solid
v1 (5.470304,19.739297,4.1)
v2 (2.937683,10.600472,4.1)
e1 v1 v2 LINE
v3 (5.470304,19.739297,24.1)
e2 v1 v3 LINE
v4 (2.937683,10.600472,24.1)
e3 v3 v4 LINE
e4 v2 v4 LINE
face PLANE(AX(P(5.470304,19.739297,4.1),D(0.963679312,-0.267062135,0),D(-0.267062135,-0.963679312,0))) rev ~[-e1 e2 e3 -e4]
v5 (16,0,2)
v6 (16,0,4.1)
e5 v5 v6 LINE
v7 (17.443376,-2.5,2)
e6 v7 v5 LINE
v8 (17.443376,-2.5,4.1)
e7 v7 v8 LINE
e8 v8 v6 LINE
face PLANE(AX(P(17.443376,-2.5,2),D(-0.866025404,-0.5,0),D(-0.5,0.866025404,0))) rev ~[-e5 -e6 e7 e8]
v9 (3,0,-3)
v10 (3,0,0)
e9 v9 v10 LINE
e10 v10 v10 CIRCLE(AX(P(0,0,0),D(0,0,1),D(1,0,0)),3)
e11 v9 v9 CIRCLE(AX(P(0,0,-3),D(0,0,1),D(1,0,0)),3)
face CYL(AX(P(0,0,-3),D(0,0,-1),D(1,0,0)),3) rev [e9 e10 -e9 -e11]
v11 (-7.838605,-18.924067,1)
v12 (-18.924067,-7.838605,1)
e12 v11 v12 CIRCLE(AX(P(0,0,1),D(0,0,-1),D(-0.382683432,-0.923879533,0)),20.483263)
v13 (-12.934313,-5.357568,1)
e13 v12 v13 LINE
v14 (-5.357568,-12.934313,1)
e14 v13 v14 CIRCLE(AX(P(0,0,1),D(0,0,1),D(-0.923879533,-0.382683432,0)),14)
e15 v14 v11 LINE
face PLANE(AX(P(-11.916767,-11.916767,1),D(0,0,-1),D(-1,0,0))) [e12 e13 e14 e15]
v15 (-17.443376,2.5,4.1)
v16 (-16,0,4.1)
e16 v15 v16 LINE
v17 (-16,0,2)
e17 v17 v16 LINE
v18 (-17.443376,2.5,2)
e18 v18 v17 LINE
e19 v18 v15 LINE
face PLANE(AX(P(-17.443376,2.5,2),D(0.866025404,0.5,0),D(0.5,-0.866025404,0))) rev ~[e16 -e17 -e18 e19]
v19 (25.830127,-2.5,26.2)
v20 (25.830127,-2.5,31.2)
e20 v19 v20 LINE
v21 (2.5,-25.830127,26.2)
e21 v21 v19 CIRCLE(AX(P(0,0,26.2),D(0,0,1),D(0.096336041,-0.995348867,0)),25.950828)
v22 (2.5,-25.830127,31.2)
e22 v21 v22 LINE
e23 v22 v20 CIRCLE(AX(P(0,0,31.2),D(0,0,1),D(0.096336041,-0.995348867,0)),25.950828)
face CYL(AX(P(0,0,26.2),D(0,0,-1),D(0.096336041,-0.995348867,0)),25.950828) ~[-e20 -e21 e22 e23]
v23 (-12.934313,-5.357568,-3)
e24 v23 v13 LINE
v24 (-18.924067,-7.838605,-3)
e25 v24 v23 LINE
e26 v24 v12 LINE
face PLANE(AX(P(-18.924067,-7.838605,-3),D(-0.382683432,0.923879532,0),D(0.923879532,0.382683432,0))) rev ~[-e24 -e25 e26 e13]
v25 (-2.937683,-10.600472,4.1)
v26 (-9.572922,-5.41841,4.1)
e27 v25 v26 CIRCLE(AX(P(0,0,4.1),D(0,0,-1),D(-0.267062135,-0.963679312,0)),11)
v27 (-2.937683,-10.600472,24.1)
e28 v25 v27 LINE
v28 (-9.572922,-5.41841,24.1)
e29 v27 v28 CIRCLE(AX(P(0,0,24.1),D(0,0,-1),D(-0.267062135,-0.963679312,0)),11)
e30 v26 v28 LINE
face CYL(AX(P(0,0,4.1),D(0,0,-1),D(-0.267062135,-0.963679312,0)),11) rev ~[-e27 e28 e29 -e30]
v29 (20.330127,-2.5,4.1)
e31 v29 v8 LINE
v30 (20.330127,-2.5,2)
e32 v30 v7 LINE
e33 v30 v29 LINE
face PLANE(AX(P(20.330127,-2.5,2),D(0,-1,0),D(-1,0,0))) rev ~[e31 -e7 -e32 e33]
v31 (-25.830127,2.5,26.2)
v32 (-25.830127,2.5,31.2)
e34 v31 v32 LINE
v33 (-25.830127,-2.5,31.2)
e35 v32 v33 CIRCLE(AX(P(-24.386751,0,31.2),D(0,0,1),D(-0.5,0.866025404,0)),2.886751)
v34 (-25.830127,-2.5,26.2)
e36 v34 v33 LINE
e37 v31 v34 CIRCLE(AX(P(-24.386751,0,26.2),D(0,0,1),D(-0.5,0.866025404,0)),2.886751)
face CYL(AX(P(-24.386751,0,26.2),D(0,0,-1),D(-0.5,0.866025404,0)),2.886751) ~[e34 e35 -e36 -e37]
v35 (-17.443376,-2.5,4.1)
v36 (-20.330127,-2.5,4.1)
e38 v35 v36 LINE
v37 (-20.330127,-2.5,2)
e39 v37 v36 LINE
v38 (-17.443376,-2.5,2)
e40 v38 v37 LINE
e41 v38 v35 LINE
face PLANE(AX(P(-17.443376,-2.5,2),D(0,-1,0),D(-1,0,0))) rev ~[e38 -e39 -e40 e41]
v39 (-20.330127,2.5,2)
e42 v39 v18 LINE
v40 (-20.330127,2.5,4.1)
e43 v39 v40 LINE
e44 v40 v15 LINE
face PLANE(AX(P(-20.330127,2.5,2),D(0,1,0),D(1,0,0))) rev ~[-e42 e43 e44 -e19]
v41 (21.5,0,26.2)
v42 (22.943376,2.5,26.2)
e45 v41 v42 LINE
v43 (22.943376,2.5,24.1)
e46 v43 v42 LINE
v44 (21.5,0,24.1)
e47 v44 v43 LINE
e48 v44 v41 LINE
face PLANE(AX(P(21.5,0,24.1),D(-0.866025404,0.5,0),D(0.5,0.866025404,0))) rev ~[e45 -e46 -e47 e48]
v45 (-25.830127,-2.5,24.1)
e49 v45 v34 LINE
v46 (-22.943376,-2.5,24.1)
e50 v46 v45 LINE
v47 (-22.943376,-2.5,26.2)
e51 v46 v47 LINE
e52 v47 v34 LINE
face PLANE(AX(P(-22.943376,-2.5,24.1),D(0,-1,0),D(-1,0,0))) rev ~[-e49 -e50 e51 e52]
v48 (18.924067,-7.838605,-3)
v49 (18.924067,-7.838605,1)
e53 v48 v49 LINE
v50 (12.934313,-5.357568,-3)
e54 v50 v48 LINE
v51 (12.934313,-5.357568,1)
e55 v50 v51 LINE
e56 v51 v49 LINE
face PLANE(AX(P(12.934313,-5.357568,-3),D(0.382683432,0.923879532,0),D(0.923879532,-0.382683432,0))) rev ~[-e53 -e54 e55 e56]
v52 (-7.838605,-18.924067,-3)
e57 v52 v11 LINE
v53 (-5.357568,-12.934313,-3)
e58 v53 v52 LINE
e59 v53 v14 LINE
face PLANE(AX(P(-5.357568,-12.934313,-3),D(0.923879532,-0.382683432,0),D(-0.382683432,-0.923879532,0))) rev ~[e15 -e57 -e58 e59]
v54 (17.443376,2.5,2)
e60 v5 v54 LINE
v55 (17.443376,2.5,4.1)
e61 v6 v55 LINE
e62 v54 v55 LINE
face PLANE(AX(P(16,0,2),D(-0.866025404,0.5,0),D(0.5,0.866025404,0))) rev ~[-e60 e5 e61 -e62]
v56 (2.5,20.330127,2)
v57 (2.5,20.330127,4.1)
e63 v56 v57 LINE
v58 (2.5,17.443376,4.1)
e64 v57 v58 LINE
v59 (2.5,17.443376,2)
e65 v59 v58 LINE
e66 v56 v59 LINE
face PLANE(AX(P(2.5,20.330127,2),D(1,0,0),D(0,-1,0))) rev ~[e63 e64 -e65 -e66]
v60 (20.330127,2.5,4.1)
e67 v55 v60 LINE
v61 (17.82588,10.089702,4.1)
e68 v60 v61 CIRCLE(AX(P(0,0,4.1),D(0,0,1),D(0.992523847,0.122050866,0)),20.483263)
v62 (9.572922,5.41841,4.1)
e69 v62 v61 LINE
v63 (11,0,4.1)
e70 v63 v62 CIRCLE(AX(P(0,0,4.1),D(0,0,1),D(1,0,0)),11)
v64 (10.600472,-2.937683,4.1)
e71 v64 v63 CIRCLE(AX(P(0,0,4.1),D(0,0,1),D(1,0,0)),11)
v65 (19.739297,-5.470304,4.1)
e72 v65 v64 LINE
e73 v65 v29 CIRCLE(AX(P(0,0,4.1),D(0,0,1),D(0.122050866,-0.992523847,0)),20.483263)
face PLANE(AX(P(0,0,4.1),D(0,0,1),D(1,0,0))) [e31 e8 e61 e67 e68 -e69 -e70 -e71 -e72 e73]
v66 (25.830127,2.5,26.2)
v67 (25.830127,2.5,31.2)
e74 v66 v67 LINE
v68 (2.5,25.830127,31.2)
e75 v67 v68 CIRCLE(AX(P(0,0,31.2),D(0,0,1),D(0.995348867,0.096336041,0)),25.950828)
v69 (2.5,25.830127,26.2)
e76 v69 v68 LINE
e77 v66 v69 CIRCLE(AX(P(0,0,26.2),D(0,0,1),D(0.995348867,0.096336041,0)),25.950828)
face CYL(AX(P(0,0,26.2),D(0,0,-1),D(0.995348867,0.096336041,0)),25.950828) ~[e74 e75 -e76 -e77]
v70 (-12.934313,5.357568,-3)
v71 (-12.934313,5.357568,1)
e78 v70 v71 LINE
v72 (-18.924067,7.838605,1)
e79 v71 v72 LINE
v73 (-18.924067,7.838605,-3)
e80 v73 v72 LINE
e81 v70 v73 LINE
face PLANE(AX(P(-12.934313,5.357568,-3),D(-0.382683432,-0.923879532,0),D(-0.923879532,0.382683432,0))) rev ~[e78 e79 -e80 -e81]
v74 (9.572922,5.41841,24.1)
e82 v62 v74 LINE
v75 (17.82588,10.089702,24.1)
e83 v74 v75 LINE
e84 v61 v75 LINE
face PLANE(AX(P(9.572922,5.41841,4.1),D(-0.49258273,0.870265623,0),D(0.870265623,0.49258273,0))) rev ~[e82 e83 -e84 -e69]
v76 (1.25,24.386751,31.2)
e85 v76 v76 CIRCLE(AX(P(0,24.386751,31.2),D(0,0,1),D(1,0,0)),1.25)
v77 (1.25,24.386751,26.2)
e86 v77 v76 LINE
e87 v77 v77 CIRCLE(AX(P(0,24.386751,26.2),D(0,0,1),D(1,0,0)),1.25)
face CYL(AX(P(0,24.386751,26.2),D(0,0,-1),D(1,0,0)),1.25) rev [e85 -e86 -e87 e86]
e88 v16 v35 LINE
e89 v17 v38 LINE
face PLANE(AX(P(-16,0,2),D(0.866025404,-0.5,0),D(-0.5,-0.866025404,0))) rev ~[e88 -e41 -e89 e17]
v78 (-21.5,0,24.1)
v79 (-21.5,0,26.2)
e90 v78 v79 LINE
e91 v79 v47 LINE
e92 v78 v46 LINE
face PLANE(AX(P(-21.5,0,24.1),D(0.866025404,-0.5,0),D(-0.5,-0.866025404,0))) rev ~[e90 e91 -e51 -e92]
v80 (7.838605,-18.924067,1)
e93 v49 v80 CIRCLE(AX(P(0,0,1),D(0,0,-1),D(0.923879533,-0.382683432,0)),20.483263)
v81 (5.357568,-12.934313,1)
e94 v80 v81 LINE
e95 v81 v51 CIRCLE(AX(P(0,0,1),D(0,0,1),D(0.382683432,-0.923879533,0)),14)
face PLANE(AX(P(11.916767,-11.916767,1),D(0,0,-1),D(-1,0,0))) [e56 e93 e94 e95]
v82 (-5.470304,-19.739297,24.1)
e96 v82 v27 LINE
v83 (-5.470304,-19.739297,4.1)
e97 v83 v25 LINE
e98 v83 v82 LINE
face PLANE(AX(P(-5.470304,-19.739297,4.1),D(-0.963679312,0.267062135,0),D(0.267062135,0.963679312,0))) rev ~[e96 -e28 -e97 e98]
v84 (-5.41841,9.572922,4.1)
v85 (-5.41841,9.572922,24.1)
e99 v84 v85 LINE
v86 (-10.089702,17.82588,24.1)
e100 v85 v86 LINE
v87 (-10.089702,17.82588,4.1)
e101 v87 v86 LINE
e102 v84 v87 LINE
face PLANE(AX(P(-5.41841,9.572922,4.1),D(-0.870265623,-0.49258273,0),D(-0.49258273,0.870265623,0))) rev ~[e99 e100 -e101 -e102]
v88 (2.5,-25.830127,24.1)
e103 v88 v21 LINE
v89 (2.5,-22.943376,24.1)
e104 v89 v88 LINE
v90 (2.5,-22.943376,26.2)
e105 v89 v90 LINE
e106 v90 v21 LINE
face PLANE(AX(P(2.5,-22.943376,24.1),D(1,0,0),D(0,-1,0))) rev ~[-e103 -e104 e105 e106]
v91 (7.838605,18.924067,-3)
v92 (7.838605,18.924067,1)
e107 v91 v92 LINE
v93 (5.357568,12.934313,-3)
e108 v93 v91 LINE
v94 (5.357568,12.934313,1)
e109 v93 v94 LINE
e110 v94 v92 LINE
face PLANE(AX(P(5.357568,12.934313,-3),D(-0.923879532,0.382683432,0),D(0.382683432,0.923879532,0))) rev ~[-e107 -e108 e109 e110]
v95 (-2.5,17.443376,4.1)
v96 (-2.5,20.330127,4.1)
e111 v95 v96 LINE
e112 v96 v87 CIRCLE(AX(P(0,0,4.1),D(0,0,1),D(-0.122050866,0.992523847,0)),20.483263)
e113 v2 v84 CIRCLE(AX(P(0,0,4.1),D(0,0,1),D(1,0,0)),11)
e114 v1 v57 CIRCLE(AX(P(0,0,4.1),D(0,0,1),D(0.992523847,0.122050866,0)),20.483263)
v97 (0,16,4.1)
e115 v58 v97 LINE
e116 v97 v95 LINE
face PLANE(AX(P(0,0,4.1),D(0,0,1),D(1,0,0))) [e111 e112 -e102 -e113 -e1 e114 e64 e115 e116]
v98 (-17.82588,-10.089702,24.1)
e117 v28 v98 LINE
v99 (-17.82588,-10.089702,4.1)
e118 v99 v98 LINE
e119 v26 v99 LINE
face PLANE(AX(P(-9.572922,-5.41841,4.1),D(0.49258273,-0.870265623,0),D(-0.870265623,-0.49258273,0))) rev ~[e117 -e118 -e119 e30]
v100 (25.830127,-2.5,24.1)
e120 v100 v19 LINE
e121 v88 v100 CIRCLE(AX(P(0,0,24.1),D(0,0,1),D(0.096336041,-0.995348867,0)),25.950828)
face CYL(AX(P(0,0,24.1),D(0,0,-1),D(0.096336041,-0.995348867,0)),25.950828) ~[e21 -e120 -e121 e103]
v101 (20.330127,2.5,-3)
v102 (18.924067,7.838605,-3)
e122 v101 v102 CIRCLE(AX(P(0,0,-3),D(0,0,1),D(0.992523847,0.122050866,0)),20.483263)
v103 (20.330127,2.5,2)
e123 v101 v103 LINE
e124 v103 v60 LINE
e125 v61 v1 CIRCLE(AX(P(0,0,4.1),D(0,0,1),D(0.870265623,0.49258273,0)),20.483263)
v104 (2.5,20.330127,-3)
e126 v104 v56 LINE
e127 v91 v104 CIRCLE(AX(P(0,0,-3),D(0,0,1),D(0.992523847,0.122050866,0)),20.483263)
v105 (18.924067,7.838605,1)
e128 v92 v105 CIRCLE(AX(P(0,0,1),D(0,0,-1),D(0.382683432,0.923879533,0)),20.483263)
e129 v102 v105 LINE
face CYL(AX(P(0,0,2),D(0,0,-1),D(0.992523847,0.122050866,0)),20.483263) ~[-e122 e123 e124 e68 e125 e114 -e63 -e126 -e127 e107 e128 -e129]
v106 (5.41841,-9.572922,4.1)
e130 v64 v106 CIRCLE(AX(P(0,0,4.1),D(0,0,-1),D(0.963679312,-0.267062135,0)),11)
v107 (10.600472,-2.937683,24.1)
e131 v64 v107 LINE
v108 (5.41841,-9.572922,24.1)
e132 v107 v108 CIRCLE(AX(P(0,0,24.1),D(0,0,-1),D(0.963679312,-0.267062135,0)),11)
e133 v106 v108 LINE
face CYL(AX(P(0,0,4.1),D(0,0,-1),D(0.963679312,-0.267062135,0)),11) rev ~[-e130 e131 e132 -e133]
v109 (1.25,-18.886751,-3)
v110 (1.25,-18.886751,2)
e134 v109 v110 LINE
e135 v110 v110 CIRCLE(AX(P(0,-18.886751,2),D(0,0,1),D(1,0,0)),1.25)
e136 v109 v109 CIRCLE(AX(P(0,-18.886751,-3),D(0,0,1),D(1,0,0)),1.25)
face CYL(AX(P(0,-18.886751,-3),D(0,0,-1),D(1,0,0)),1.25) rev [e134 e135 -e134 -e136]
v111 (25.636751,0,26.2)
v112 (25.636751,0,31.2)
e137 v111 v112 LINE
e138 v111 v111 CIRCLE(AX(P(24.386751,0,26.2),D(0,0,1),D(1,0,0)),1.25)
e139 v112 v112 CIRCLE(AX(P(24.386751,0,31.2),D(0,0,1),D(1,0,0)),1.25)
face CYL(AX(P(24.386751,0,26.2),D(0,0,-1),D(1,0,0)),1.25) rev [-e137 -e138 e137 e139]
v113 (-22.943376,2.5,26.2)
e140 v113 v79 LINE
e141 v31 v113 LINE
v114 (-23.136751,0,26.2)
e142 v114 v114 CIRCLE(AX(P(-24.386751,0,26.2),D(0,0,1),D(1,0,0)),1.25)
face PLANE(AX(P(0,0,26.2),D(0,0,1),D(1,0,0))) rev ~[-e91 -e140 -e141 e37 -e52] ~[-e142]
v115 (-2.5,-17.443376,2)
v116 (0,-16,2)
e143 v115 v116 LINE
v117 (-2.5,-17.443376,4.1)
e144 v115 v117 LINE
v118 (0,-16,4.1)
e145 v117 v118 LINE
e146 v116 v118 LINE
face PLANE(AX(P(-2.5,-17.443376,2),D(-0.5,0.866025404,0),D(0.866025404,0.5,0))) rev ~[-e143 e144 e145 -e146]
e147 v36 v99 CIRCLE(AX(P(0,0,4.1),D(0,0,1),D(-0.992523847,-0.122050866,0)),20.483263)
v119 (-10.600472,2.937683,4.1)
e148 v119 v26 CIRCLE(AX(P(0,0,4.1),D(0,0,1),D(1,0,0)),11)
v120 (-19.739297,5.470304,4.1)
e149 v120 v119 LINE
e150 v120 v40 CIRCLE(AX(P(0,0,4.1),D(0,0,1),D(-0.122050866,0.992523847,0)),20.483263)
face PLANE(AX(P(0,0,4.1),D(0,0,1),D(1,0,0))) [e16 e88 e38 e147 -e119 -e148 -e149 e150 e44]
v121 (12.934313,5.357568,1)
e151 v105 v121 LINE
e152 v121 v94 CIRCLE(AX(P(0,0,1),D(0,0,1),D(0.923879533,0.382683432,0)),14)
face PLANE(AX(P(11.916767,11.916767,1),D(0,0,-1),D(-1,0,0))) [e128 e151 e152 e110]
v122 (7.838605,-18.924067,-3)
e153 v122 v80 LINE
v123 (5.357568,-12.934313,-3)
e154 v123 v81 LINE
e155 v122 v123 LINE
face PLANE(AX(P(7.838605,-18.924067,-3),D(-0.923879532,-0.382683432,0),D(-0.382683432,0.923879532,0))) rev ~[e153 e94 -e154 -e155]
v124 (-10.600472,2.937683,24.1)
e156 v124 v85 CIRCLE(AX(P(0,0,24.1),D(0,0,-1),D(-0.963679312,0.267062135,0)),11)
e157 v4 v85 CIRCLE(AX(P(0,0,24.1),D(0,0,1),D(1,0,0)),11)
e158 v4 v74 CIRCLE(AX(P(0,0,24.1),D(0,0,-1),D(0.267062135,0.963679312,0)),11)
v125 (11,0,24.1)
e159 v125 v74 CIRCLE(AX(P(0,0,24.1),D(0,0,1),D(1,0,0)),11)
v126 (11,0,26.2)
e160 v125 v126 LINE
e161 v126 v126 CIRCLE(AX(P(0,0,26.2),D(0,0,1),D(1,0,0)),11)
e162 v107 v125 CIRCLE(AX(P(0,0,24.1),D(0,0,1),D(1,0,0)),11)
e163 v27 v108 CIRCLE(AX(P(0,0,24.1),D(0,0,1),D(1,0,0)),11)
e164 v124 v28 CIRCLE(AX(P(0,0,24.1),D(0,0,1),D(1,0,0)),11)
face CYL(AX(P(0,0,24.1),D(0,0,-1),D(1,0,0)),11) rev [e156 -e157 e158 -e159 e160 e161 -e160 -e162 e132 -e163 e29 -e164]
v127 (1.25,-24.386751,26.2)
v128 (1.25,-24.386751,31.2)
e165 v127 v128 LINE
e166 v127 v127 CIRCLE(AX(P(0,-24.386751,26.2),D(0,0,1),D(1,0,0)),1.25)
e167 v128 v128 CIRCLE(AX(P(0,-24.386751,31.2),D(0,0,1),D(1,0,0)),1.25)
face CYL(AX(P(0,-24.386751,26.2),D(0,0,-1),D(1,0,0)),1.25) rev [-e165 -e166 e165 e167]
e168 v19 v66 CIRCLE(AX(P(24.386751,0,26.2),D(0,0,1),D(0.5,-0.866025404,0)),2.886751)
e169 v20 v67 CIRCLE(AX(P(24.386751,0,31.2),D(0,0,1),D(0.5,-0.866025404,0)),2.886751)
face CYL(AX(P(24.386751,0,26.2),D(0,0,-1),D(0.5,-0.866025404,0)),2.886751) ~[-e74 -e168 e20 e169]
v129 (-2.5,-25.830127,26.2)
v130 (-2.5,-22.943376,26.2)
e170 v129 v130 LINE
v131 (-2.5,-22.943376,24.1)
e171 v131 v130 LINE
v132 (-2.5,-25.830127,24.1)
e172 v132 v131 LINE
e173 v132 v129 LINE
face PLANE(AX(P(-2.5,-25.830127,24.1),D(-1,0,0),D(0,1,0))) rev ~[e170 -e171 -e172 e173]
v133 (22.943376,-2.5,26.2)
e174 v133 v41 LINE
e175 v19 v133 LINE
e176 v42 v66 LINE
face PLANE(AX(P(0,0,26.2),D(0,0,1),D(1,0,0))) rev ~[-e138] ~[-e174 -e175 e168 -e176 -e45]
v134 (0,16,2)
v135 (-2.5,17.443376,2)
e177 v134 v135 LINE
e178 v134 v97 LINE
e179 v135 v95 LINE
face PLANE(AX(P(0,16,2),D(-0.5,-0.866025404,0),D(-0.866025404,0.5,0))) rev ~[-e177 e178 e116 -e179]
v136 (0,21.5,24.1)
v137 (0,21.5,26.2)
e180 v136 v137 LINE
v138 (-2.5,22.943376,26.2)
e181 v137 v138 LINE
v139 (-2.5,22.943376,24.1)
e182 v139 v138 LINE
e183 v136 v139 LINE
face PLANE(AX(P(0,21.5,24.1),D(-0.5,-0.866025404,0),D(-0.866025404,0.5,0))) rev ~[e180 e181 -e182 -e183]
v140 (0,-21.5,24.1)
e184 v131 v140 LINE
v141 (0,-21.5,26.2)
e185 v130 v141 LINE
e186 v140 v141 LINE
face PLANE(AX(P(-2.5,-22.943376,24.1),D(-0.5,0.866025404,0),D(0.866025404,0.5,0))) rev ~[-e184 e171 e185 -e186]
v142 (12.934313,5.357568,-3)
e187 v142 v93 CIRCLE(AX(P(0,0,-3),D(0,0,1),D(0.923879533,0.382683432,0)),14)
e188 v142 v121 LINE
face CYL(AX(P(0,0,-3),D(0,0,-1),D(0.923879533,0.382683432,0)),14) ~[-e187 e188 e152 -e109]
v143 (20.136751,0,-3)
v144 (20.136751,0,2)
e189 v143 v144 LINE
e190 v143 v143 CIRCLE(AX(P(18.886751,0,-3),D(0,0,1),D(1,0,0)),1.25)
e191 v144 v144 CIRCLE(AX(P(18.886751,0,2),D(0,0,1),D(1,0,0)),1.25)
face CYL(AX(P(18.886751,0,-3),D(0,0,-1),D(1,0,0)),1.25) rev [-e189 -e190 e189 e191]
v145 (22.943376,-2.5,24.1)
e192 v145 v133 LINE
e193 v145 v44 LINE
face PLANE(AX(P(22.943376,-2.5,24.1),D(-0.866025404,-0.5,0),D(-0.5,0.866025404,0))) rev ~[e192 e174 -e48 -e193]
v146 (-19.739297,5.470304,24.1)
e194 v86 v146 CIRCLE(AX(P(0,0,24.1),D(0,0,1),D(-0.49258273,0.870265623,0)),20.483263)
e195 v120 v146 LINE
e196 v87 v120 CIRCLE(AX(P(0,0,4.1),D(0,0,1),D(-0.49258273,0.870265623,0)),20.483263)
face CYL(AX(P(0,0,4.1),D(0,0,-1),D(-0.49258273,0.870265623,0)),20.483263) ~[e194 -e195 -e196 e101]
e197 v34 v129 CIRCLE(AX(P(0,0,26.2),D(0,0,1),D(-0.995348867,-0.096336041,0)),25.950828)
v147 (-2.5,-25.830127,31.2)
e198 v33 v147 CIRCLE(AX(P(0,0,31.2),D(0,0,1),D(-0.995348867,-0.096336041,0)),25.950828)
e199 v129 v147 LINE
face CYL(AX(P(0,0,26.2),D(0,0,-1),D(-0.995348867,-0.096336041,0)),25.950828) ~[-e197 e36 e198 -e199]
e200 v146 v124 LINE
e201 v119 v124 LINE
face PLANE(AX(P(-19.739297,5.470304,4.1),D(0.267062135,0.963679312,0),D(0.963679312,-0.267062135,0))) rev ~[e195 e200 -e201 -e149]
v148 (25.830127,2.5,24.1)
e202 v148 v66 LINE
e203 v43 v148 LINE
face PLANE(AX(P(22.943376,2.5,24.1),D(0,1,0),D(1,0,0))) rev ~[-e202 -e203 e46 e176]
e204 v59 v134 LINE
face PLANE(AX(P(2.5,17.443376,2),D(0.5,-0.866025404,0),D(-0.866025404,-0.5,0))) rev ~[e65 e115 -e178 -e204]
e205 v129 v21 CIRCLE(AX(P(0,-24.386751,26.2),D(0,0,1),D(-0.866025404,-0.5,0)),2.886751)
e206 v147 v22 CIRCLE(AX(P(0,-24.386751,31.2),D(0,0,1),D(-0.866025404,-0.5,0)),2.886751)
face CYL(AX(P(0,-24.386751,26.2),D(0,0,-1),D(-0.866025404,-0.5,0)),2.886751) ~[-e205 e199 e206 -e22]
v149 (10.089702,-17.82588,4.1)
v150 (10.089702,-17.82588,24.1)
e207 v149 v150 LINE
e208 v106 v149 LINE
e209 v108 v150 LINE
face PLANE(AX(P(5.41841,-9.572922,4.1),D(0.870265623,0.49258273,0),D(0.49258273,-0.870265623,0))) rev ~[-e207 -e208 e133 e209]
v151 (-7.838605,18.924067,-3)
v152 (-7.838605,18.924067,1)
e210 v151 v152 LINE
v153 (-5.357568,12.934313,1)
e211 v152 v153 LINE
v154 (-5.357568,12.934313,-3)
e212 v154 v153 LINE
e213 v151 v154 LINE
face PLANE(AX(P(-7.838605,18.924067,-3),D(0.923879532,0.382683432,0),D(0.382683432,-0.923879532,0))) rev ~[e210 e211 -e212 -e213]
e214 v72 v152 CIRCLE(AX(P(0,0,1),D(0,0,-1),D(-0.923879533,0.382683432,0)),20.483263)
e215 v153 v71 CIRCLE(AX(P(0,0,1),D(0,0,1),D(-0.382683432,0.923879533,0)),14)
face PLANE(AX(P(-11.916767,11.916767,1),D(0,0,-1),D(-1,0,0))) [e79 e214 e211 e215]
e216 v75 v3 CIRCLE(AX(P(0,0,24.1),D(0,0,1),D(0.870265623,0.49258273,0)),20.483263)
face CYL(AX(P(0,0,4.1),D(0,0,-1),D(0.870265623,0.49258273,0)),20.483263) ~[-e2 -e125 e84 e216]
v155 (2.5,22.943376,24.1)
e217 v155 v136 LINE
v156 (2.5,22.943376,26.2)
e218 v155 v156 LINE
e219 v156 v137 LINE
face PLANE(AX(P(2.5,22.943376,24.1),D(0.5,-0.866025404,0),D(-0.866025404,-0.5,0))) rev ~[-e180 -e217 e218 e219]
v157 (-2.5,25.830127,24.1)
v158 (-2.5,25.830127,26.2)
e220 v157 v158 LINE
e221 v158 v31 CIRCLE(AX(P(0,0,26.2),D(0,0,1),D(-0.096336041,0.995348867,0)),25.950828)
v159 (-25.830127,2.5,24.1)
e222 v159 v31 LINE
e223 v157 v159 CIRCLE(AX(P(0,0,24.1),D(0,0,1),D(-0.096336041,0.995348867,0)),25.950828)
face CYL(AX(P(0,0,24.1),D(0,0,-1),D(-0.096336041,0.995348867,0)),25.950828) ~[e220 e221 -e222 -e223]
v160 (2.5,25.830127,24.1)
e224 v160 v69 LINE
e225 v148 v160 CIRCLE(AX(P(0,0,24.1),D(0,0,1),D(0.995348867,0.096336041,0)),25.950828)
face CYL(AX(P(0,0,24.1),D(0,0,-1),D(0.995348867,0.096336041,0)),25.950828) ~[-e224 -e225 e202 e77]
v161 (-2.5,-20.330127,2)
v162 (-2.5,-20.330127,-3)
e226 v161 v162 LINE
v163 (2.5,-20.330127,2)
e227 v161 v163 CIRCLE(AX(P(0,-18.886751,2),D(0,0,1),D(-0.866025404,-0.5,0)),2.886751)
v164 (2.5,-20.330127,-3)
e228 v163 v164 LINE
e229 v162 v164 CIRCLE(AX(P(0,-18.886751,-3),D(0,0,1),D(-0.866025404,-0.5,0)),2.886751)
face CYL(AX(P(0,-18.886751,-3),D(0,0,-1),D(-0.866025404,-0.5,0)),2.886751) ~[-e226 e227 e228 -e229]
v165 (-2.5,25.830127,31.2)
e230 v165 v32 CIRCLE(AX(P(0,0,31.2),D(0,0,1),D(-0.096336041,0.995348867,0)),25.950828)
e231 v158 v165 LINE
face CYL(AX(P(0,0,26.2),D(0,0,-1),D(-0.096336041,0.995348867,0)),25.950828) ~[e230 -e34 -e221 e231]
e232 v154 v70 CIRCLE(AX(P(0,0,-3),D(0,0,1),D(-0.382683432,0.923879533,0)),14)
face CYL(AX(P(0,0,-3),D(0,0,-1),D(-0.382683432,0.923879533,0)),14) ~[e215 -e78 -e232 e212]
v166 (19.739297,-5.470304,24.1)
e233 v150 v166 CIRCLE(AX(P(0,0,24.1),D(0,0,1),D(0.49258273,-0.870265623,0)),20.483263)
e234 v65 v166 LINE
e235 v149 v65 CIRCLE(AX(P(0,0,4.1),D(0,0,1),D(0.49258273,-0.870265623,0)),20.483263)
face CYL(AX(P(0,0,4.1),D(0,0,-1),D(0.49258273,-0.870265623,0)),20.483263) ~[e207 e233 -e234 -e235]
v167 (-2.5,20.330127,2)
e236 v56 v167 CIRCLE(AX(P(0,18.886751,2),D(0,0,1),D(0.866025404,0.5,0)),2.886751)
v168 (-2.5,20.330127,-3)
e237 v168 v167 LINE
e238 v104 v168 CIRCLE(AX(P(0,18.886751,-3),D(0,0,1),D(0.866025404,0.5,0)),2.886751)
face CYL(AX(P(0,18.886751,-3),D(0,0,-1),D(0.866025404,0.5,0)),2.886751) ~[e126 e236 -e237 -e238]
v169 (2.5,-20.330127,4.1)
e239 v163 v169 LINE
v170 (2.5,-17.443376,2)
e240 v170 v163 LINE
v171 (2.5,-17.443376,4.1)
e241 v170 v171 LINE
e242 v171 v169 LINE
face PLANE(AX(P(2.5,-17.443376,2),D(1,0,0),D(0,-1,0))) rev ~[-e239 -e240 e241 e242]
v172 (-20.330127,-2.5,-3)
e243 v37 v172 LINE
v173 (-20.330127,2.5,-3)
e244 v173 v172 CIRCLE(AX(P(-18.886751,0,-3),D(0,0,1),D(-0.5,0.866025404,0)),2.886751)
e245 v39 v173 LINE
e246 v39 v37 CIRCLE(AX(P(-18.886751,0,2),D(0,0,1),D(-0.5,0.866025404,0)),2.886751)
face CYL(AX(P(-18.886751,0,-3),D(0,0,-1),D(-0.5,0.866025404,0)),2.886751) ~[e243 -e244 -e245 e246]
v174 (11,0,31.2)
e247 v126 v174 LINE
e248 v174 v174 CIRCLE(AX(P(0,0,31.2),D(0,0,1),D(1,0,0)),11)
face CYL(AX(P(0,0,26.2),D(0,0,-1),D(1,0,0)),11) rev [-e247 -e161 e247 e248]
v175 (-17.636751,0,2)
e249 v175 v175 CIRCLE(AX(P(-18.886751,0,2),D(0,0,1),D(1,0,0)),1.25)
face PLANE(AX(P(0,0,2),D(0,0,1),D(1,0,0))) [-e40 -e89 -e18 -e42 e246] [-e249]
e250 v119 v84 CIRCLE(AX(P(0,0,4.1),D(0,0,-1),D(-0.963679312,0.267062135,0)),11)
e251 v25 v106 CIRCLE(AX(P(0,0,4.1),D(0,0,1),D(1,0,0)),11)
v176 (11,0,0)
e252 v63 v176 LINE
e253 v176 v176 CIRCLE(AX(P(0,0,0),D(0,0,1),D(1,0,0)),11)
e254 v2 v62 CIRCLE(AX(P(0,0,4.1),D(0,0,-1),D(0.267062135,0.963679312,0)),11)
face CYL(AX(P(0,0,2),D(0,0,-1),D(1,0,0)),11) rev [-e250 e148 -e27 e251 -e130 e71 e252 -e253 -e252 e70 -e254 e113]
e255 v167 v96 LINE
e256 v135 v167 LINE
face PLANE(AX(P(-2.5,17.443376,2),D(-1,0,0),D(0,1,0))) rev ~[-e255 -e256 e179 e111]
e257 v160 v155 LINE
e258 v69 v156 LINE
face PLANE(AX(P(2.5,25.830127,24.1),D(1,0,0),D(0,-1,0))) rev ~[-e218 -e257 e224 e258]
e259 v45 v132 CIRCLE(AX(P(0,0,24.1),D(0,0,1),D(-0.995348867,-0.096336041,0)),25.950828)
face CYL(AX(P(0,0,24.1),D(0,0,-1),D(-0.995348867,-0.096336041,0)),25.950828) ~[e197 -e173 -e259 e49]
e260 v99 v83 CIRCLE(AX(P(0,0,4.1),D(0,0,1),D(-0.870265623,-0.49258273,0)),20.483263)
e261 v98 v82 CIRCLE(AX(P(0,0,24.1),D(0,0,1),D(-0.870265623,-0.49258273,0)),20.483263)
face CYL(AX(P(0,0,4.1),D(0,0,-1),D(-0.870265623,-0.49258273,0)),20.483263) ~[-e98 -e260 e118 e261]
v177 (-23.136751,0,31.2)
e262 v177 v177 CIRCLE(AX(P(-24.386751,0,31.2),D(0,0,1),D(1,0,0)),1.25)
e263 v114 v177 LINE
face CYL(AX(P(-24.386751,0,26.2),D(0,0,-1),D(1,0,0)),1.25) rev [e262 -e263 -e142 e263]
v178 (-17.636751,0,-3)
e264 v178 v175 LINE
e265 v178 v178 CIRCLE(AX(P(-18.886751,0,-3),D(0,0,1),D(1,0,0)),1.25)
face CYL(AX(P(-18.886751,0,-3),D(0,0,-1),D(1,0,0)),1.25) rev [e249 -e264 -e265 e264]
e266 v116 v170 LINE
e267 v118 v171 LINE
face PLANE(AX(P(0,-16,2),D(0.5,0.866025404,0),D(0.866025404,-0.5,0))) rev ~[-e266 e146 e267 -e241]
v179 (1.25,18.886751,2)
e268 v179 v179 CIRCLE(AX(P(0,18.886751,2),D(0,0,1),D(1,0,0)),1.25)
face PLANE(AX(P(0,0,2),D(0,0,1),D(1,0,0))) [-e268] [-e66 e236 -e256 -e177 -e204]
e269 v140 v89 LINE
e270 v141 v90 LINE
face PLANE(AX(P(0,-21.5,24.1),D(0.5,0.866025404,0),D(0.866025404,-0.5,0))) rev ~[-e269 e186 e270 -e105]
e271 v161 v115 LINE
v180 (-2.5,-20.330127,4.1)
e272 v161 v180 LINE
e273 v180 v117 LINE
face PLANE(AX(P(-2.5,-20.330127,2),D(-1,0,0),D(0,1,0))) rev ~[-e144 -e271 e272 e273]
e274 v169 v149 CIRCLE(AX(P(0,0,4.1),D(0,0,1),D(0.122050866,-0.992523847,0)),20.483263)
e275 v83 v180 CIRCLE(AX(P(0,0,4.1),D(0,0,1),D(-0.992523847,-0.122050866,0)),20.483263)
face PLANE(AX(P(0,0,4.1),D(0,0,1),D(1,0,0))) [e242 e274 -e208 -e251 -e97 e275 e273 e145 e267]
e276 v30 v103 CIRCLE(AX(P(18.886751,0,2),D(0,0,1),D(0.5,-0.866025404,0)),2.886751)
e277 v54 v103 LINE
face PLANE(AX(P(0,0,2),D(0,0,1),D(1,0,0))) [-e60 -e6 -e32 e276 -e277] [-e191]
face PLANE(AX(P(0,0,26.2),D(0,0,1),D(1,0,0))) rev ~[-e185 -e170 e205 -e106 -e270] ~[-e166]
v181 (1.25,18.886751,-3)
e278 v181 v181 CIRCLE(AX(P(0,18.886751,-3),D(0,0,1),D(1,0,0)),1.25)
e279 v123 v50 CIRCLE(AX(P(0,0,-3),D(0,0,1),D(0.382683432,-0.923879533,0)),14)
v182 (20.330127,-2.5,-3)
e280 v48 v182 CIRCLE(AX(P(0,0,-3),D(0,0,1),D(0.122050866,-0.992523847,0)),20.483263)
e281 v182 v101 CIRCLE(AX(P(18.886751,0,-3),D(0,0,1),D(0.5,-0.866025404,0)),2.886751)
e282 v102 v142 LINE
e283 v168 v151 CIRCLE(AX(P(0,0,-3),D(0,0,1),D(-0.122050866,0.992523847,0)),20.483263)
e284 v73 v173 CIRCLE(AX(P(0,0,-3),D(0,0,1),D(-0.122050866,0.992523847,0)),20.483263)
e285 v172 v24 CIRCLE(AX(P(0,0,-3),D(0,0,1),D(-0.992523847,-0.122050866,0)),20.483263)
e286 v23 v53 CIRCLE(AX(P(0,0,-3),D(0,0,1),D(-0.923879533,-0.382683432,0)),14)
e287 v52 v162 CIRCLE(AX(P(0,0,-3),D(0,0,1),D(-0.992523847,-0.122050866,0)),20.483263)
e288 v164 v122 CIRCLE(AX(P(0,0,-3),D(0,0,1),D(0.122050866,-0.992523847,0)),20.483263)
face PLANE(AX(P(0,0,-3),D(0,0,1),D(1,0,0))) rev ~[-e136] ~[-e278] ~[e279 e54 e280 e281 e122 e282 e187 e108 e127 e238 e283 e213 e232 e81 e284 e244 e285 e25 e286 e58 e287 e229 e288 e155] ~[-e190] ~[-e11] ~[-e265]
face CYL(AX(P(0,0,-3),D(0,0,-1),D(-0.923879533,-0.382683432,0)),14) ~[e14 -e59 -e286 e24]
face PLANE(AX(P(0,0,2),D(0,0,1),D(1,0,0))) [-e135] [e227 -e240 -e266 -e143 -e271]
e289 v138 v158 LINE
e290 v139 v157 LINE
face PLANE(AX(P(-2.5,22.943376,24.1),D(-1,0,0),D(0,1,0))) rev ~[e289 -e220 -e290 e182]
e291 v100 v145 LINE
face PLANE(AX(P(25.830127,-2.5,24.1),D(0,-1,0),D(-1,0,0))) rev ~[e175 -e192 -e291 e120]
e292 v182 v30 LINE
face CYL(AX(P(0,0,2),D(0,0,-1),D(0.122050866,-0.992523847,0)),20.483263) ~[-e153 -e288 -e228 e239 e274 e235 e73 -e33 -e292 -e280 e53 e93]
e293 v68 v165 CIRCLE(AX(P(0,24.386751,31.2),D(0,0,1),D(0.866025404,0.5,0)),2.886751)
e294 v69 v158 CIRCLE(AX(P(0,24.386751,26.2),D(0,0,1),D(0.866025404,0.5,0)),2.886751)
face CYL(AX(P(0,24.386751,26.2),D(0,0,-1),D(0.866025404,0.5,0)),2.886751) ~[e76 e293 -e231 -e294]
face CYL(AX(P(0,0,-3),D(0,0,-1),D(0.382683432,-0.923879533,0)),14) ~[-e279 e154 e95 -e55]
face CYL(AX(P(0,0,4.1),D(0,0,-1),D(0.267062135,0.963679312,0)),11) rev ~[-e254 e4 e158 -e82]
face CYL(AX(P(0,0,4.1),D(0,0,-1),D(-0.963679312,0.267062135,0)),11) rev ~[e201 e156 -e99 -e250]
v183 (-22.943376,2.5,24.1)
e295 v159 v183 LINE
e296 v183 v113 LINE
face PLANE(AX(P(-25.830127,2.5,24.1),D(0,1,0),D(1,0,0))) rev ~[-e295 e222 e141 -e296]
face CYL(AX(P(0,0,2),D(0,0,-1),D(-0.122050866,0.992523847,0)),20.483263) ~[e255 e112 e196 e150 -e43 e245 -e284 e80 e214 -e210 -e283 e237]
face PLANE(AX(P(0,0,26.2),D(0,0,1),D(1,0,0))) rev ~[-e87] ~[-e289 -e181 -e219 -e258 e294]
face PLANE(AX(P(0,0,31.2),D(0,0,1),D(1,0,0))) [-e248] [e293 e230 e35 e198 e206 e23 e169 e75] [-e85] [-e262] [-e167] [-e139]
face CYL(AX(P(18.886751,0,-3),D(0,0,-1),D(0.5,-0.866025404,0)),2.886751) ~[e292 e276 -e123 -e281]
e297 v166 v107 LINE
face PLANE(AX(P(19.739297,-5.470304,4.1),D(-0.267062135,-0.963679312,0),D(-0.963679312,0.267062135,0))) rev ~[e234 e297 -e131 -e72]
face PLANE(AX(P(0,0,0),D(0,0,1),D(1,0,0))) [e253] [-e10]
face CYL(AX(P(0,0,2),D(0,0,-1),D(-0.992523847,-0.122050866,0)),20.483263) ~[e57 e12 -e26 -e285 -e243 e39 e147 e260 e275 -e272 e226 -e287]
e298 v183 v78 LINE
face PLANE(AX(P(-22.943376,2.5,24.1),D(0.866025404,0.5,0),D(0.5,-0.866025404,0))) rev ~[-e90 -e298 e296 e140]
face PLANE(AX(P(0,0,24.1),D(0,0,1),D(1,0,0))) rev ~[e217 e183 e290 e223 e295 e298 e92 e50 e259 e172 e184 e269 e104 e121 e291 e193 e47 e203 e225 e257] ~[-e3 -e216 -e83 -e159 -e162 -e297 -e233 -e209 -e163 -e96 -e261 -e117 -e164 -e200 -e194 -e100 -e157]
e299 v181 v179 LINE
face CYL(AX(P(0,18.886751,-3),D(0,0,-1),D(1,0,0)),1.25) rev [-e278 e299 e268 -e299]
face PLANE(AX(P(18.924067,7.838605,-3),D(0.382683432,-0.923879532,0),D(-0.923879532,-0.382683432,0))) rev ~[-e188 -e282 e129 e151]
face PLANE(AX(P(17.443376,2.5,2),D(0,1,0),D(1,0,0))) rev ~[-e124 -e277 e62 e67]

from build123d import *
from build123d.topology import SkipClean

# Parameters (mm, degrees)
SKETCH1_R           = 1.25
SKETCH1_R_2         = 11
BOSS_EXTRUDE1_DEPTH = 2
BOSS_EXTRUDE2_START = -3
SKETCH1_3_R         = 1.25
SKETCH1_3_R_2       = 3
BOSS_EXTRUDE2_DEPTH = 3
SKETCH7_R           = 11
BOSS_EXTRUDE6_DEPTH = 2.1
CUT_EXTRUDE1_DEPTH  = 4
BOSS_EXTRUDE3_DEPTH = 20
SKETCH5_R           = 11
BOSS_EXTRUDE4_DEPTH = 2.1
SKETCH9_R           = 1.25
SKETCH9_R_2         = 11
BOSS_EXTRUDE8_DEPTH = 5


with BuildPart() as part:
    # Sketch1 → Boss-Extrude1 (new body)
    with BuildSketch(Plane.XY):
        with BuildLine():
            ThreePointArc((2.5, -20.330127019), (14.483854194, -14.483854194), (20.330127019, -2.5))
            ThreePointArc((20.330127019, -2.5), (21.773502692, 0), (20.330127019, 2.5))
            ThreePointArc((20.330127019, 2.5), (14.483854194, 14.483854194), (2.5, 20.330127019))
            ThreePointArc((2.5, 20.330127019), (0, 21.773502692), (-2.5, 20.330127019))
            ThreePointArc((-2.5, 20.330127019), (-14.483854194, 14.483854194), (-20.330127019, 2.5))
            ThreePointArc((-20.330127019, 2.5), (-21.773502692, 0), (-20.330127019, -2.5))
            ThreePointArc((-20.330127019, -2.5), (-14.483854194, -14.483854194), (-2.5, -20.330127019))
            ThreePointArc((-2.5, -20.330127019), (0, -21.773502692), (2.5, -20.330127019))
        make_face()
        with Locations((-18.886751346, 0)):
            Circle(SKETCH1_R, mode=Mode.SUBTRACT)
        with Locations((0, -18.886751346)):
            Circle(SKETCH1_R, mode=Mode.SUBTRACT)
        with Locations((0, 18.886751346)):
            Circle(SKETCH1_R, mode=Mode.SUBTRACT)
        Circle(SKETCH1_R_2, mode=Mode.SUBTRACT)
        with Locations((18.886751346, 0)):
            Circle(SKETCH1_R, mode=Mode.SUBTRACT)
    extrude(amount=BOSS_EXTRUDE1_DEPTH)

    # Sketch1_3 → Boss-Extrude2 (add)
    with BuildSketch(Plane.XY.offset(BOSS_EXTRUDE2_START)):
        with BuildLine():
            ThreePointArc((2.5, -20.330127019), (14.483854194, -14.483854194), (20.330127019, -2.5))
            ThreePointArc((20.330127019, -2.5), (21.773502692, 0), (20.330127019, 2.5))
            ThreePointArc((20.330127019, 2.5), (14.483854194, 14.483854194), (2.5, 20.330127019))
            ThreePointArc((2.5, 20.330127019), (0, 21.773502692), (-2.5, 20.330127019))
            ThreePointArc((-2.5, 20.330127019), (-14.483854194, 14.483854194), (-20.330127019, 2.5))
            ThreePointArc((-20.330127019, 2.5), (-21.773502692, 0), (-20.330127019, -2.5))
            ThreePointArc((-20.330127019, -2.5), (-14.483854194, -14.483854194), (-2.5, -20.330127019))
            ThreePointArc((-2.5, -20.330127019), (0, -21.773502692), (2.5, -20.330127019))
        make_face()
        with Locations((-18.886751346, 0)):
            Circle(SKETCH1_3_R, mode=Mode.SUBTRACT)
        with Locations((0, -18.886751346)):
            Circle(SKETCH1_3_R, mode=Mode.SUBTRACT)
        with Locations((0, 18.886751346)):
            Circle(SKETCH1_3_R, mode=Mode.SUBTRACT)
        with Locations((18.886751346, 0)):
            Circle(SKETCH1_3_R, mode=Mode.SUBTRACT)
        Circle(SKETCH1_3_R_2, mode=Mode.SUBTRACT)
    extrude(amount=BOSS_EXTRUDE2_DEPTH)

    # Sketch7 → Boss-Extrude6 (add)
    with BuildSketch(Plane.XY.offset(2)):
        with BuildLine():
            Line((17.443375673, 2.5), (20.330127019, 2.5))
            ThreePointArc((20.330127019, 2.5), (14.483854194, 14.483854194), (2.5, 20.330127019))
            Line((2.5, 20.330127019), (2.5, 17.443375673))
            Line((2.5, 17.443375673), (0, 16))
            Line((0, 16), (-2.5, 17.443375673))
            Line((-2.5, 17.443375673), (-2.5, 20.330127019))
            ThreePointArc((-2.5, 20.330127019), (-14.483854194, 14.483854194), (-20.330127019, 2.5))
            Line((-20.330127019, 2.5), (-17.443375673, 2.5))
            Line((-17.443375673, 2.5), (-16, 0))
            Line((-16, 0), (-17.443375673, -2.5))
            Line((-17.443375673, -2.5), (-20.330127019, -2.5))
            ThreePointArc((-20.330127019, -2.5), (-14.483854194, -14.483854194), (-2.5, -20.330127019))
            Line((-2.5, -20.330127019), (-2.5, -17.443375673))
            Line((-2.5, -17.443375673), (0, -16))
            Line((0, -16), (2.5, -17.443375673))
            Line((2.5, -17.443375673), (2.5, -20.330127019))
            ThreePointArc((2.5, -20.330127019), (14.483854194, -14.483854194), (20.330127019, -2.5))
            Line((20.330127019, -2.5), (17.443375673, -2.5))
            Line((17.443375673, -2.5), (16, 0))
            Line((16, 0), (17.443375673, 2.5))
        make_face()
        Circle(SKETCH7_R, mode=Mode.SUBTRACT)
    extrude(amount=BOSS_EXTRUDE6_DEPTH)

    # Sketch8 → Cut-Extrude1 (cut)
    with BuildSketch(Plane(origin=(0, 0, -3), x_dir=(-1, 0, 0), z_dir=(0, 0, -1))):
        with BuildLine():
            Line((-5.357568053, 12.934313455), (-7.838605405, 18.924067478))
            ThreePointArc((-7.838605405, 18.924067478), (-14.483854194, 14.483854194), (-18.924067478, 7.838605405))
            Line((-18.924067478, 7.838605405), (-12.934313455, 5.357568053))
            ThreePointArc((-12.934313455, 5.357568053), (-9.899494937, 9.899494937), (-5.357568053, 12.934313455))
        make_face()
        with BuildLine():
            Line((12.934313455, 5.357568053), (18.924067478, 7.838605405))
            ThreePointArc((18.924067478, 7.838605405), (14.483854194, 14.483854194), (7.838605405, 18.924067478))
            Line((7.838605405, 18.924067478), (5.357568053, 12.934313455))
            ThreePointArc((5.357568053, 12.934313455), (9.899494937, 9.899494937), (12.934313455, 5.357568053))
        make_face()
        with BuildLine():
            Line((5.357568053, -12.934313455), (7.838605405, -18.924067478))
            ThreePointArc((7.838605405, -18.924067478), (14.483854194, -14.483854194), (18.924067478, -7.838605405))
            Line((18.924067478, -7.838605405), (12.934313455, -5.357568053))
            ThreePointArc((12.934313455, -5.357568053), (9.899494937, -9.899494937), (5.357568053, -12.934313455))
        make_face()
        with BuildLine():
            Line((-12.934313455, -5.357568053), (-18.924067478, -7.838605405))
            ThreePointArc((-18.924067478, -7.838605405), (-14.483854194, -14.483854194), (-7.838605405, -18.924067478))
            Line((-7.838605405, -18.924067478), (-5.357568053, -12.934313455))
            ThreePointArc((-5.357568053, -12.934313455), (-9.899494937, -9.899494937), (-12.934313455, -5.357568053))
        make_face()
    extrude(amount=-CUT_EXTRUDE1_DEPTH, mode=Mode.SUBTRACT)

    # Sketch2 → Boss-Extrude3 (add)
    with SkipClean():  # the faces are left unmerged after this step: merging them gives an invalid solid
        with BuildSketch(Plane.XY.offset(4.1)):
            with BuildLine():
                Line((-5.418410027, 9.572921852), (-10.089701619, 17.825879665))
                ThreePointArc((-10.089701619, 17.825879665), (-16.14333763, 12.607803724), (-19.739296827, 5.470303957))
                Line((-19.739296827, 5.470303957), (-10.60047243, 2.937683484))
                ThreePointArc((-10.60047243, 2.937683484), (-8.669356714, 6.770690818), (-5.418410027, 9.572921852))
            make_face()
            with BuildLine():
                ThreePointArc((17.825879665, 10.089701619), (12.607803724, 16.14333763), (5.470303957, 19.739296827))
                Line((5.470303957, 19.739296827), (2.937683484, 10.60047243))
                ThreePointArc((2.937683484, 10.60047243), (6.770690818, 8.669356714), (9.572921852, 5.418410027))
                Line((9.572921852, 5.418410027), (17.825879665, 10.089701619))
            make_face()
            with BuildLine():
                ThreePointArc((10.089701619, -17.825879665), (16.14333763, -12.607803724), (19.739296827, -5.470303957))
                Line((19.739296827, -5.470303957), (10.60047243, -2.937683484))
                ThreePointArc((10.60047243, -2.937683484), (8.669356714, -6.770690818), (5.418410027, -9.572921852))
                Line((5.418410027, -9.572921852), (10.089701619, -17.825879665))
            make_face()
            with BuildLine():
                ThreePointArc((-17.825879665, -10.089701619), (-12.607803724, -16.14333763), (-5.470303957, -19.739296827))
                Line((-5.470303957, -19.739296827), (-2.937683484, -10.60047243))
                ThreePointArc((-2.937683484, -10.60047243), (-6.770690818, -8.669356714), (-9.572921852, -5.418410027))
                Line((-9.572921852, -5.418410027), (-17.825879665, -10.089701619))
            make_face()
        extrude(amount=BOSS_EXTRUDE3_DEPTH)

    # Sketch5 → Boss-Extrude4 (add)
    with SkipClean():  # the faces are left unmerged after this step: merging them gives an invalid solid
        with BuildSketch(Plane.XY.offset(24.1)):
            with BuildLine():
                Line((22.943375673, 2.5), (25.830127019, 2.5))
                ThreePointArc((25.830127019, 2.5), (18.350006292, 18.350006292), (2.5, 25.830127019))
                Line((2.5, 25.830127019), (2.5, 22.943375673))
                Line((2.5, 22.943375673), (0, 21.5))
                Line((0, 21.5), (-2.5, 22.943375673))
                Line((-2.5, 22.943375673), (-2.5, 25.830127019))
                ThreePointArc((-2.5, 25.830127019), (-18.350006292, 18.350006292), (-25.830127019, 2.5))
                Line((-25.830127019, 2.5), (-22.943375673, 2.5))
                Line((-22.943375673, 2.5), (-21.5, 0))
                Line((-21.5, 0), (-22.943375673, -2.5))
                Line((-22.943375673, -2.5), (-25.830127019, -2.5))
                ThreePointArc((-25.830127019, -2.5), (-18.350006292, -18.350006292), (-2.5, -25.830127019))
                Line((-2.5, -25.830127019), (-2.5, -22.943375673))
                Line((-2.5, -22.943375673), (0, -21.5))
                Line((0, -21.5), (2.5, -22.943375673))
                Line((2.5, -22.943375673), (2.5, -25.830127019))
                ThreePointArc((2.5, -25.830127019), (18.350006292, -18.350006292), (25.830127019, -2.5))
                Line((25.830127019, -2.5), (22.943375673, -2.5))
                Line((22.943375673, -2.5), (21.5, 0))
                Line((21.5, 0), (22.943375673, 2.5))
            make_face()
            Circle(SKETCH5_R, mode=Mode.SUBTRACT)
        extrude(amount=BOSS_EXTRUDE4_DEPTH)

    # Sketch9 → Boss-Extrude8 (add)
    with SkipClean():  # the faces are left unmerged after this step: merging them gives an invalid solid
        with BuildSketch(Plane.XY.offset(26.2)):
            with BuildLine():
                ThreePointArc((2.5, 25.830127019), (0, 27.273502692), (-2.5, 25.830127019))
                ThreePointArc((-2.5, 25.830127019), (-18.350006292, 18.350006292), (-25.830127019, 2.5))
                ThreePointArc((-25.830127019, 2.5), (-27.273502692, 0), (-25.830127019, -2.5))
                ThreePointArc((-25.830127019, -2.5), (-18.350006292, -18.350006292), (-2.5, -25.830127019))
                ThreePointArc((-2.5, -25.830127019), (0, -27.273502692), (2.5, -25.830127019))
                ThreePointArc((2.5, -25.830127019), (18.350006292, -18.350006292), (25.830127019, -2.5))
                ThreePointArc((25.830127019, -2.5), (27.273502692, 0), (25.830127019, 2.5))
                ThreePointArc((25.830127019, 2.5), (18.350006292, 18.350006292), (2.5, 25.830127019))
            make_face()
            with Locations((0, 24.386751346)):
                Circle(SKETCH9_R, mode=Mode.SUBTRACT)
            Circle(SKETCH9_R_2, mode=Mode.SUBTRACT)
            with Locations((-24.386751346, 0)):
                Circle(SKETCH9_R, mode=Mode.SUBTRACT)
            with Locations((24.386751346, 0)):
                Circle(SKETCH9_R, mode=Mode.SUBTRACT)
            with Locations((0, -24.386751346)):
                Circle(SKETCH9_R, mode=Mode.SUBTRACT)
        extrude(amount=BOSS_EXTRUDE8_DEPTH)


solid = part.part
